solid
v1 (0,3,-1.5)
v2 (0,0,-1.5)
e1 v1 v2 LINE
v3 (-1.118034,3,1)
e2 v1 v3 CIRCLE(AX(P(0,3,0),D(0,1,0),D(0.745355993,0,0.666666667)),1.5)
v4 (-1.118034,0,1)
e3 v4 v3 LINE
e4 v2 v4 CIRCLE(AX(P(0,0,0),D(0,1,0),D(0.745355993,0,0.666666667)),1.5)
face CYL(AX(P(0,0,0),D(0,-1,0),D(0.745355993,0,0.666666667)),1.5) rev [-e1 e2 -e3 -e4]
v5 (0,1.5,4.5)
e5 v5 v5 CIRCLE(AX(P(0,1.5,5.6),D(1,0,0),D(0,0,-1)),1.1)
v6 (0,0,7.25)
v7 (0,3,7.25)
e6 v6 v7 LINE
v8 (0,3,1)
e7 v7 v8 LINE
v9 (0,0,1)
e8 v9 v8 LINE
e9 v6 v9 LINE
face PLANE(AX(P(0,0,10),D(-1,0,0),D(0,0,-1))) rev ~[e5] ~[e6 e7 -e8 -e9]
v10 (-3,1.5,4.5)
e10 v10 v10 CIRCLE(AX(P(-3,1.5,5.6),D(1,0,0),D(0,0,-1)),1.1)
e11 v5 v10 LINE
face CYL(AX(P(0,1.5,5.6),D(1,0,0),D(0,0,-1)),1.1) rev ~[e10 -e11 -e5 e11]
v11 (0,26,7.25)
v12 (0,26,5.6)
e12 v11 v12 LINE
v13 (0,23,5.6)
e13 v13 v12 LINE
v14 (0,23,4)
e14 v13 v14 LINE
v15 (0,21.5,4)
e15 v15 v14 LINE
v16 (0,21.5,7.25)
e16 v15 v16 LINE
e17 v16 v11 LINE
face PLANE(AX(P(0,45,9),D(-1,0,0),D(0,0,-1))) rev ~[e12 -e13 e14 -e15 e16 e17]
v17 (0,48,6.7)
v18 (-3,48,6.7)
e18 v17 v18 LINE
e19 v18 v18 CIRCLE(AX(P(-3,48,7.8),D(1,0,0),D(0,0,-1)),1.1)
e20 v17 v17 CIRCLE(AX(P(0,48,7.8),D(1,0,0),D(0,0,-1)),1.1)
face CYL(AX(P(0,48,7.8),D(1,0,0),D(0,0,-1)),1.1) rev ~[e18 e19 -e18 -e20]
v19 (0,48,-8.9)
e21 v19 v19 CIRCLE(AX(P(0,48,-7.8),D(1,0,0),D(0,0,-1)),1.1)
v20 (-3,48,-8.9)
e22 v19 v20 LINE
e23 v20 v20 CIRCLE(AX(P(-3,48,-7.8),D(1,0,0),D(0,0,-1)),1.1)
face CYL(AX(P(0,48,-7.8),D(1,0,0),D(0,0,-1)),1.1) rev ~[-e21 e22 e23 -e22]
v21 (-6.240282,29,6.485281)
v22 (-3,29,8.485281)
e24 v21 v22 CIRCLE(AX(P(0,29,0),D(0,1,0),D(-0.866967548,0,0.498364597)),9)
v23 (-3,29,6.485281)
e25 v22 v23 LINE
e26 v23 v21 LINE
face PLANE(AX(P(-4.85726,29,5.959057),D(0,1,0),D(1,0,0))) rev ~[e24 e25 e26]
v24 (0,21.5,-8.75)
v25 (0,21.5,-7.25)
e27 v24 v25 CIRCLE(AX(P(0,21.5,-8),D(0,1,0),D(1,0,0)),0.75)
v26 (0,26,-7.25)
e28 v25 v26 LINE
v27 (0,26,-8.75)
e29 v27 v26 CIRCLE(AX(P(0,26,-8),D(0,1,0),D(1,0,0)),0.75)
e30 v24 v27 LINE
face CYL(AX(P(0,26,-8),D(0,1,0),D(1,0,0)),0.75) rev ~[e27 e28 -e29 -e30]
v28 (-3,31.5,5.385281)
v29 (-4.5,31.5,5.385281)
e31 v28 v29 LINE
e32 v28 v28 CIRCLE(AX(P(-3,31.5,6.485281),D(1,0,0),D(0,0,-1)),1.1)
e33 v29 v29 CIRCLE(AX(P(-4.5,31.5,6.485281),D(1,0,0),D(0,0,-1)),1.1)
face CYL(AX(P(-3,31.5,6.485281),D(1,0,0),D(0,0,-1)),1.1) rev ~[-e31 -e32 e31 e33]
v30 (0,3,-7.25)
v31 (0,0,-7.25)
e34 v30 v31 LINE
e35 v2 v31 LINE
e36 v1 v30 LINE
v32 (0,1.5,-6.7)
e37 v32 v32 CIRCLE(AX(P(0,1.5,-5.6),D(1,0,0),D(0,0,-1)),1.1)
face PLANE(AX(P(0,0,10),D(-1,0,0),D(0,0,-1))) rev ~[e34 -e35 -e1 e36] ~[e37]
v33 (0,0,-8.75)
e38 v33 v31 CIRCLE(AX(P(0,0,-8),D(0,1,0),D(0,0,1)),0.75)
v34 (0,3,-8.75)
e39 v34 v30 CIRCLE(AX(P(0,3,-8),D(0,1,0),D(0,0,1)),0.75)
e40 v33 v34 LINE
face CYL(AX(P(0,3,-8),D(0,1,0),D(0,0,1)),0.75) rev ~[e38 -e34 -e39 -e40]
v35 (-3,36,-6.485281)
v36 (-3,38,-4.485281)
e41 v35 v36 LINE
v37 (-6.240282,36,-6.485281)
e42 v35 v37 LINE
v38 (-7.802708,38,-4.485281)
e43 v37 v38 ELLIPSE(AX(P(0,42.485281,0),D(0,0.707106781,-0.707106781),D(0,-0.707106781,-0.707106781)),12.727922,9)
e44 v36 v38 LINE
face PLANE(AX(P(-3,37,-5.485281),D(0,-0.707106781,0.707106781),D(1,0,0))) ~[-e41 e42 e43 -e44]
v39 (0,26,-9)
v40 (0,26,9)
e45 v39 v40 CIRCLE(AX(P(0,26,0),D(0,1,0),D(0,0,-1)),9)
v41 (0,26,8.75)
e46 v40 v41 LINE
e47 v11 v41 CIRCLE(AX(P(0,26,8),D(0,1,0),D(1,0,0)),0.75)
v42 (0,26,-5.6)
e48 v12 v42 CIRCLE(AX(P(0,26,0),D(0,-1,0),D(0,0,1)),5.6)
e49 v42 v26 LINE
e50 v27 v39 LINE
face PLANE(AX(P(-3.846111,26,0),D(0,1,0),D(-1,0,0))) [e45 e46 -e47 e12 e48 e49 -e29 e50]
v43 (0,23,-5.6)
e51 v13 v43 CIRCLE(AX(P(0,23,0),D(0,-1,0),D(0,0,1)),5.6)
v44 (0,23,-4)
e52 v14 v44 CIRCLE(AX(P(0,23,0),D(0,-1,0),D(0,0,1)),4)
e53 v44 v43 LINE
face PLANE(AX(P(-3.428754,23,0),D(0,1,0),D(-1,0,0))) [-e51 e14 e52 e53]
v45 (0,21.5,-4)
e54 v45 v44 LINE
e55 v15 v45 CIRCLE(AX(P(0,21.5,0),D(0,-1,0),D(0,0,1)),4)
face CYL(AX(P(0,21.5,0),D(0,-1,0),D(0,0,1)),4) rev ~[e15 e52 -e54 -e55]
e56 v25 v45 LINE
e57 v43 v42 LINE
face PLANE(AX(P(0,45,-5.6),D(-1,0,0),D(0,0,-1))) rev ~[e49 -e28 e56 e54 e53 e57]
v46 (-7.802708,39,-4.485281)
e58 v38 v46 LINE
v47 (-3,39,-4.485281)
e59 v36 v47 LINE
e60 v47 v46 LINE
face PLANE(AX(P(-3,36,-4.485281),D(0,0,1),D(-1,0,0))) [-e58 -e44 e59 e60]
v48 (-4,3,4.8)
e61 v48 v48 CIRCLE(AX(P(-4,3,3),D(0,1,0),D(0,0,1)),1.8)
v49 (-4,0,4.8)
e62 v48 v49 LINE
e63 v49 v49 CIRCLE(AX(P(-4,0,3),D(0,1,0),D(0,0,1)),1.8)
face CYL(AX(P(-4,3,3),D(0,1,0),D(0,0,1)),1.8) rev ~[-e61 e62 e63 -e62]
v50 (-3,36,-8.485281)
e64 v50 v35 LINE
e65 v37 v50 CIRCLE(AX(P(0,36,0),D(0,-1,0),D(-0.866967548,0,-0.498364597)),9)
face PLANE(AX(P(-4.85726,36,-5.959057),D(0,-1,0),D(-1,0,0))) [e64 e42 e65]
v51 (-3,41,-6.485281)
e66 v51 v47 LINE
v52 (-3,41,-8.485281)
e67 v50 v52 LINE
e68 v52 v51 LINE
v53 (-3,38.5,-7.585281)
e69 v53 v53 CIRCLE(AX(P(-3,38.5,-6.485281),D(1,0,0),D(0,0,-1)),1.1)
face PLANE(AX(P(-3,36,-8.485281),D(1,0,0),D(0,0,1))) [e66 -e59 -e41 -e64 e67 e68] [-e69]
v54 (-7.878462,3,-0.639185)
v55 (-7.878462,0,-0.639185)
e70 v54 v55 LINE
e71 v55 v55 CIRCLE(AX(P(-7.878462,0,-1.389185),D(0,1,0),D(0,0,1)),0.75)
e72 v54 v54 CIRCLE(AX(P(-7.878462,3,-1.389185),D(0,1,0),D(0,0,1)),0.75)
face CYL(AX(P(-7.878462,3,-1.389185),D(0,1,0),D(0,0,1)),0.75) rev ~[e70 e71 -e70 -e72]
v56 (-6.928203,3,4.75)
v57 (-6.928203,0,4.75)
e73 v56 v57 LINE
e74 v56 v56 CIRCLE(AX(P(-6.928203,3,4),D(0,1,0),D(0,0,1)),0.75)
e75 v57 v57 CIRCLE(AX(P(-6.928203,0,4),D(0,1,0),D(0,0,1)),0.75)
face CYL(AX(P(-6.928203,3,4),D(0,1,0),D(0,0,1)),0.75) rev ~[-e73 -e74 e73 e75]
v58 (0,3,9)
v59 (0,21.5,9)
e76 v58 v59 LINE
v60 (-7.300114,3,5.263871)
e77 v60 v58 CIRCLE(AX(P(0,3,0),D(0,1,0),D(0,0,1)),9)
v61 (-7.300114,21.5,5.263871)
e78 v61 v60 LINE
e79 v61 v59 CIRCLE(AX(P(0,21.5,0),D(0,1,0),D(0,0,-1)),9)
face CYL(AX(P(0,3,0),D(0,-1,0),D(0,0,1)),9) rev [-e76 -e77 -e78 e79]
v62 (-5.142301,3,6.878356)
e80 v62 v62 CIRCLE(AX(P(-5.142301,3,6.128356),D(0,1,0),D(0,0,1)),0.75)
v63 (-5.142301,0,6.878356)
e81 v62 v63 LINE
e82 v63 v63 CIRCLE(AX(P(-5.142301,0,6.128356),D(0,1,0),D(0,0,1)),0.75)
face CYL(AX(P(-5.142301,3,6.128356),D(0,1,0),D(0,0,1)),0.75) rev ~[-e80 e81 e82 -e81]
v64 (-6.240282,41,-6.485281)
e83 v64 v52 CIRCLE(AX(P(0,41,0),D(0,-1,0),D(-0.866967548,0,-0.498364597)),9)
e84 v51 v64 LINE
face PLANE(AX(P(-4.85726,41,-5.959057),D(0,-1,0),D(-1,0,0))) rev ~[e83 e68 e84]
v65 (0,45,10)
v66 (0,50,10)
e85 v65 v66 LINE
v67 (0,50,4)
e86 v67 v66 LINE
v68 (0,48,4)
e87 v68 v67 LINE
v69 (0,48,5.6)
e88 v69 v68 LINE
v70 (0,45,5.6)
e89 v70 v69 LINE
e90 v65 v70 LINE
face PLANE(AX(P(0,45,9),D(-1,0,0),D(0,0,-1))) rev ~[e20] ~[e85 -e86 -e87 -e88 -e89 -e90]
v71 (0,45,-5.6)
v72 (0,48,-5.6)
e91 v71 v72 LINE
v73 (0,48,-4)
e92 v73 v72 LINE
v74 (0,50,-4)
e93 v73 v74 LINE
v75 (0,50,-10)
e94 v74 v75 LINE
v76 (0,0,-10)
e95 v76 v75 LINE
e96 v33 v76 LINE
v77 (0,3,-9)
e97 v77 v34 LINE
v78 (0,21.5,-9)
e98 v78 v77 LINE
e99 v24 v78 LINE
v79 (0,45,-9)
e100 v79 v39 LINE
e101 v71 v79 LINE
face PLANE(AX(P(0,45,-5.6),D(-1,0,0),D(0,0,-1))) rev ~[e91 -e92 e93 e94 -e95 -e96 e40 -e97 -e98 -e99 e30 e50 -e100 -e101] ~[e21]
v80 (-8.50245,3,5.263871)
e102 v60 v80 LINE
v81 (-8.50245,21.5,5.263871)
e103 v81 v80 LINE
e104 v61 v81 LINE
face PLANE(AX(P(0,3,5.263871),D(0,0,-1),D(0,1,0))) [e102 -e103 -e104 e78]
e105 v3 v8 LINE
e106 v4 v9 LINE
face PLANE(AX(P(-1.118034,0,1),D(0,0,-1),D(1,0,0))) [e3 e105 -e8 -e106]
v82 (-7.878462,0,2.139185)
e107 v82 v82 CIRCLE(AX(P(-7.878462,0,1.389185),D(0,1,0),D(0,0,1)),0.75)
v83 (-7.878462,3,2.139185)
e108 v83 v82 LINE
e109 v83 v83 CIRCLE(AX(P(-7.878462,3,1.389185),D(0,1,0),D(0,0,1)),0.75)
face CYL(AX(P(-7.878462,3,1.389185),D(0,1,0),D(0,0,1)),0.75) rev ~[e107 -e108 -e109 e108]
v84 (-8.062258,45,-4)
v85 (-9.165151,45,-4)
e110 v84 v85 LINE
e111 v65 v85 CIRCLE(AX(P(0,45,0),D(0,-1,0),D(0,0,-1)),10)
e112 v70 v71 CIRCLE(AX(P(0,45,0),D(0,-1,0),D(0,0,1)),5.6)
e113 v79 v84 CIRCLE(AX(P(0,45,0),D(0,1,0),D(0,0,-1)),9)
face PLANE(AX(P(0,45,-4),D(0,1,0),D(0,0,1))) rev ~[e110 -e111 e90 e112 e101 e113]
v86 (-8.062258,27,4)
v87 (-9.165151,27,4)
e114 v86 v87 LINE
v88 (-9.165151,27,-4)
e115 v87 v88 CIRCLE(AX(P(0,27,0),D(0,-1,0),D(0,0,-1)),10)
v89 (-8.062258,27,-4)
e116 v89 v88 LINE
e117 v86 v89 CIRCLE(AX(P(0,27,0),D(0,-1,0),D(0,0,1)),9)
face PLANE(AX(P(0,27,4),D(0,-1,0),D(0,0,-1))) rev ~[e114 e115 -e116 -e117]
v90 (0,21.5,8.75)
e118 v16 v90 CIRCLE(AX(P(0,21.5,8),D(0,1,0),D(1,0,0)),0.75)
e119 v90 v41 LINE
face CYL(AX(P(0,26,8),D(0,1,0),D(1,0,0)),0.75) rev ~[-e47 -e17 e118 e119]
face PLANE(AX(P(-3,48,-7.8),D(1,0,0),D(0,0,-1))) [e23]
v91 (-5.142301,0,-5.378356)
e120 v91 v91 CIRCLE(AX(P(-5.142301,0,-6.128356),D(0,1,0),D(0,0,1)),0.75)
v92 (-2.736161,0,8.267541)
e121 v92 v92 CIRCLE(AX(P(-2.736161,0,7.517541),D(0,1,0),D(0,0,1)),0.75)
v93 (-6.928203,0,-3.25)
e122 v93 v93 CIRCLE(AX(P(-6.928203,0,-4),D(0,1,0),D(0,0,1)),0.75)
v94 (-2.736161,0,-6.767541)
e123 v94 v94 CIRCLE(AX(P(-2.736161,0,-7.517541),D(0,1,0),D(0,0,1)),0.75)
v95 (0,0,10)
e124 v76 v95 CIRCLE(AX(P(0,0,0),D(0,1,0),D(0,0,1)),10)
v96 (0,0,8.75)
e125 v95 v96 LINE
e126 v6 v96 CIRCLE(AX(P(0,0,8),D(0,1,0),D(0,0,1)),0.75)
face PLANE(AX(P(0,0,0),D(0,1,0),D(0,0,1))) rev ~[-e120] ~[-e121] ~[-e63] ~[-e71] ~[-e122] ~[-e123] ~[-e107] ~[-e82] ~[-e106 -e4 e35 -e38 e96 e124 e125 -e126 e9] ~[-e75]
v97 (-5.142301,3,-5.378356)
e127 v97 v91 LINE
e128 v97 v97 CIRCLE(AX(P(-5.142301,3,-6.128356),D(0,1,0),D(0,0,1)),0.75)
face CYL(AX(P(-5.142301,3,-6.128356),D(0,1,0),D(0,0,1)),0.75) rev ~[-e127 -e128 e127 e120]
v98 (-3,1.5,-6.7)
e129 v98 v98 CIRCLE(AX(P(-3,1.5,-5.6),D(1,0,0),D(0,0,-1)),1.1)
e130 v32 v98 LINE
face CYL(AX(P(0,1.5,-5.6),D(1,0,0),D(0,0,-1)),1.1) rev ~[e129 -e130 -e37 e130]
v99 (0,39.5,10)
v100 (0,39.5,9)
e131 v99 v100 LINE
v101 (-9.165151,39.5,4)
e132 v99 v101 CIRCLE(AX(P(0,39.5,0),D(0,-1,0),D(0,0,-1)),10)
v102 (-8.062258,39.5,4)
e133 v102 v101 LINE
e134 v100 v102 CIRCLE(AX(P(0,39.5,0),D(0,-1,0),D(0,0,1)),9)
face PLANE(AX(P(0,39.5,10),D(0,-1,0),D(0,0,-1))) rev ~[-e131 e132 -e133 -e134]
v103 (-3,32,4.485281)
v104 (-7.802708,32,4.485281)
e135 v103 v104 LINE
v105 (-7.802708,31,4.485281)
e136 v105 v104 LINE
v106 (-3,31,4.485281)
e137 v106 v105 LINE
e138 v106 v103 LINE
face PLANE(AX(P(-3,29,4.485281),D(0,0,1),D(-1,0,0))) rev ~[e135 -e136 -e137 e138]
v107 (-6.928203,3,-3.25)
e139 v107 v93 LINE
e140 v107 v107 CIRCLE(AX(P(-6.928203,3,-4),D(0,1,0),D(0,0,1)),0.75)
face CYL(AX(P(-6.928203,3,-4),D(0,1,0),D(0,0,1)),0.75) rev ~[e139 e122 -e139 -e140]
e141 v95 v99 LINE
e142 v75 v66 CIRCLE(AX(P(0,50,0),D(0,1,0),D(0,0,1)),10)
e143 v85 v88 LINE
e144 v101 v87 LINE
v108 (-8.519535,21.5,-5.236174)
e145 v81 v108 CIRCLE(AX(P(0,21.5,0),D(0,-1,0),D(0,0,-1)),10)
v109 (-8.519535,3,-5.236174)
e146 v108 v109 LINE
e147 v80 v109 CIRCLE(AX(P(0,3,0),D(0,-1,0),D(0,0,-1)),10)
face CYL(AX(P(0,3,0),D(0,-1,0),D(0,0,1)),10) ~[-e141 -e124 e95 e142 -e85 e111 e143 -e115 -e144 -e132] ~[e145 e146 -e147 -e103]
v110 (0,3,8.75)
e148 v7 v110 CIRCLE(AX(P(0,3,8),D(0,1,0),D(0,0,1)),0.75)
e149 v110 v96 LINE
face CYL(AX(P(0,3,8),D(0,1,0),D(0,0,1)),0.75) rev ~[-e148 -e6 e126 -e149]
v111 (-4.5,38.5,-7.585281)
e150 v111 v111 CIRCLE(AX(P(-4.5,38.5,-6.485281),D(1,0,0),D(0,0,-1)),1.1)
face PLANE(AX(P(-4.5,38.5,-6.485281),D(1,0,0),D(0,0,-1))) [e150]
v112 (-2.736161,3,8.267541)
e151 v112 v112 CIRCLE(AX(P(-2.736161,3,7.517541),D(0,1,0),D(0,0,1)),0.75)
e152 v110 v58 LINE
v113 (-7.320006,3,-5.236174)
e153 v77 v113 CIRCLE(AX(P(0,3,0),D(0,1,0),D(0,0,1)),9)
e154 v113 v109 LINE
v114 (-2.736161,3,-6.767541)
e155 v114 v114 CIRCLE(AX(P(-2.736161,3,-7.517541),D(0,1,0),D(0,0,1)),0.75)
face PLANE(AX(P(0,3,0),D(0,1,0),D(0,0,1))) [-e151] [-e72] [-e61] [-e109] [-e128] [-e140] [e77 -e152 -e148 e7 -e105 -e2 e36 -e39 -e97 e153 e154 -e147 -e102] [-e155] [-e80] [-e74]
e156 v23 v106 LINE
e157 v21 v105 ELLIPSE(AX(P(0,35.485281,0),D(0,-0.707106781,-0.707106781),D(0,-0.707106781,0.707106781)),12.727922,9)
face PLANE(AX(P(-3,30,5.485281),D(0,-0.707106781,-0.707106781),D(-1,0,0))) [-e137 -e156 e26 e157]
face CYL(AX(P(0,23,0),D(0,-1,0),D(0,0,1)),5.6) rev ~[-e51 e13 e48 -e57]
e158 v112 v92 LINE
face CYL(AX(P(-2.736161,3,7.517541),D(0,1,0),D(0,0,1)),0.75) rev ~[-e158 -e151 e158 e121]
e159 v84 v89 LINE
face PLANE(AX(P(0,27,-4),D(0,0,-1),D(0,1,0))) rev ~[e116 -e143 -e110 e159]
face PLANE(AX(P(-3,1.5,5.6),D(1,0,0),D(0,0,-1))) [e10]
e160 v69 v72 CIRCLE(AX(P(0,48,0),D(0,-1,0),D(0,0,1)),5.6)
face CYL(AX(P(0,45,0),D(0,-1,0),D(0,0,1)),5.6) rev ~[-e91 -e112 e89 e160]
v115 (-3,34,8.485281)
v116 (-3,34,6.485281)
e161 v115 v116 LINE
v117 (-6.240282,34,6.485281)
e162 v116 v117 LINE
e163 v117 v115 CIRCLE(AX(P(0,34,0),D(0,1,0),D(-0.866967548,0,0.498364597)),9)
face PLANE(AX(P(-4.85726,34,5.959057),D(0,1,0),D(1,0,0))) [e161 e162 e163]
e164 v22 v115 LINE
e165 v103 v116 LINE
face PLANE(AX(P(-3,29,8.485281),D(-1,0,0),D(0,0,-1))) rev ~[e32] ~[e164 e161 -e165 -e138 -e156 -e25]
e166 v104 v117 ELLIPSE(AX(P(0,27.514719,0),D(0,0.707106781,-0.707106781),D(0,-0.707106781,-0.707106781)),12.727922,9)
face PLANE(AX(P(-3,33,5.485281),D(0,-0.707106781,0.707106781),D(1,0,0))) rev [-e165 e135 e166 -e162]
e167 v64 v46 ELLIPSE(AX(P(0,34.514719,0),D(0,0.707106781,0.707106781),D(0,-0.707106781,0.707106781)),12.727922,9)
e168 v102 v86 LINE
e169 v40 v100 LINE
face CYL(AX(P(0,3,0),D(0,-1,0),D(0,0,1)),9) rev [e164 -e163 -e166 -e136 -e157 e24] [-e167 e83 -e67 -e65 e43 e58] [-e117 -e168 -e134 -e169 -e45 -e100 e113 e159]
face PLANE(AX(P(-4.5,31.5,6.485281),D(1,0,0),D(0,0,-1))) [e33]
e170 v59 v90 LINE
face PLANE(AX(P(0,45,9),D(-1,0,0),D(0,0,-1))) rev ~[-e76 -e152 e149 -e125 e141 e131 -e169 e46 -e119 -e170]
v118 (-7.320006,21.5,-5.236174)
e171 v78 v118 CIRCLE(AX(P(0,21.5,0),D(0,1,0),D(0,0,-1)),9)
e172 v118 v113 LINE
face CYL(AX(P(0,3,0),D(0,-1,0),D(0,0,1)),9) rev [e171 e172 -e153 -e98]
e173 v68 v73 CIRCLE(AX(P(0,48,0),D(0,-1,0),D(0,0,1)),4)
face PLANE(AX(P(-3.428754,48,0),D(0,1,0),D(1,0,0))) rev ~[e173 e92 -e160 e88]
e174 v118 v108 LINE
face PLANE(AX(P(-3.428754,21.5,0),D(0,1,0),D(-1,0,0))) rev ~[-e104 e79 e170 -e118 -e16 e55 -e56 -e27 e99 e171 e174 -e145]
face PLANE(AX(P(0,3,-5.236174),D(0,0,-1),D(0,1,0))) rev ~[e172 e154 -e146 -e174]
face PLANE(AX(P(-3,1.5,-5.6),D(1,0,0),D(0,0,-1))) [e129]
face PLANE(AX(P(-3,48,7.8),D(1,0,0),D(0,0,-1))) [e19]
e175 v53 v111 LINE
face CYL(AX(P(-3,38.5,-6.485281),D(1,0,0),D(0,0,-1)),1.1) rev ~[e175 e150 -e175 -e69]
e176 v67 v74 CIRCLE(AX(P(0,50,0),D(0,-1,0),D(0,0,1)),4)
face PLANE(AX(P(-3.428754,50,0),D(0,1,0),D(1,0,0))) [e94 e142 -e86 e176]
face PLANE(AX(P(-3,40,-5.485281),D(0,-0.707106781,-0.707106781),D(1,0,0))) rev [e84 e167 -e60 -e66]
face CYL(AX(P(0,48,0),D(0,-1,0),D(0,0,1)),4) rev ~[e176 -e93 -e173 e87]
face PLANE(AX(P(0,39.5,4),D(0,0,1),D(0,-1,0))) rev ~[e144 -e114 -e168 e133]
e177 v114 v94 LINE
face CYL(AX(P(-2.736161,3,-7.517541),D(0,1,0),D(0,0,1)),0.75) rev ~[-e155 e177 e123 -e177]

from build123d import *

# Parameters (mm, degrees)
SKETCH_1_R               = 10
EXTRUDE_1_DEPTH          = 3
CUT_EXTRUDE_1_REACH      = 16.457
SKETCH_2_R               = 0.75
SKETCH_3_R               = 10
SKETCH_3_R_2             = 9
EXTRUDE_2_DEPTH          = 47
CUT_EXTRUDE_START        = -50
CUT_EXTRUDE_2_DEPTH      = 50
EXTRUDE_3_DEPTH          = 5
SKETCH_6_R               = 1.1
CUT_EXTRUDE_3_DEPTH      = 1.5
EXTRUDE_START            = -5
EXTRUDE_4_DEPTH          = 5
SKETCH_8_R               = 1.1
CUT_EXTRUDE_4_DEPTH      = 1.5
EXTRUDE_START_2          = -23
EXTRUDE_5_DEPTH          = 3
EXTRUDE_START_3          = 1.5
EXTRUDE_6_DEPTH          = 1.5
EXTRUDE_START_4          = -2
EXTRUDE_7_DEPTH          = 2
EXTRUDE_START_5          = 3
EXTRUDE_8_DEPTH          = 3
CUT_EXTRUDE_5_REACH      = 31.597
SKETCH_13_R              = 0.75
CUT_EXTRUDE_6_REACH      = 53.962
CUT_EXTRUDE_6_END_RADIUS = 10
SKETCH_14_W              = 10.500045379
SKETCH_14_H              = 18.5
CUT_EXTRUDE_7_REACH      = 53.962
CUT_EXTRUDE_7_END_RADIUS = 10
SKETCH_16_R              = 1.1
CUT_EXTRUDE_8_DEPTH      = 3
CHAMFER_1_SIZE           = 2
CUT_EXTRUDE1_REACH       = 51.082
SKETCH1_R                = 1.8


with BuildPart() as part:
    # 草图1 → 凸台-拉伸1 (new body)
    with BuildSketch(Plane(origin=(0, 0, 0), x_dir=(1, 0, 0), z_dir=(0, 1, 0))):
        with Locations(Location((0, 0, 0), (0, 0, 270))):
            Circle(SKETCH_1_R)
        with BuildLine():
            Line((-1.118033989, -1), (1.118033989, -1))
            ThreePointArc((1.118033989, -1), (0, 1.5), (-1.118033989, -1))
        make_face(mode=Mode.SUBTRACT)
    extrude(amount=EXTRUDE_1_DEPTH)

    # 草图2 → 切除-拉伸1 (cut, up to next)
    with BuildSketch(Plane(origin=(0, 3, 0), x_dir=(1, 0, 0), z_dir=(0, 1, 0)), mode=Mode.PRIVATE) as cut_extrude_1_sk1:
        with Locations(Location((0, 8, 0), (0, 0, 270))):
            Circle(SKETCH_2_R)
    cut_extrude_1_tool1 = extrude(cut_extrude_1_sk1.sketch, amount=-CUT_EXTRUDE_1_REACH, mode=Mode.PRIVATE) & part.part
    # 草图2 → 切除-拉伸1 (cut, up to next)
    with BuildSketch(Plane(origin=(0, 3, 0), x_dir=(1, 0, 0), z_dir=(0, 1, 0)), mode=Mode.PRIVATE) as cut_extrude_1_sk2:
        with Locations(Location((2.736161147, 7.517540966, 0), (0, 0, 270))):
            Circle(SKETCH_2_R)
    cut_extrude_1_tool2 = extrude(cut_extrude_1_sk2.sketch, amount=-CUT_EXTRUDE_1_REACH, mode=Mode.PRIVATE) & part.part
    # 草图2 → 切除-拉伸1 (cut, up to next)
    with BuildSketch(Plane(origin=(0, 3, 0), x_dir=(1, 0, 0), z_dir=(0, 1, 0)), mode=Mode.PRIVATE) as cut_extrude_1_sk3:
        with Locations(Location((5.142300877, 6.128355545, 0), (0, 0, 270))):
            Circle(SKETCH_2_R)
    cut_extrude_1_tool3 = extrude(cut_extrude_1_sk3.sketch, amount=-CUT_EXTRUDE_1_REACH, mode=Mode.PRIVATE) & part.part
    # 草图2 → 切除-拉伸1 (cut, up to next)
    with BuildSketch(Plane(origin=(0, 3, 0), x_dir=(1, 0, 0), z_dir=(0, 1, 0)), mode=Mode.PRIVATE) as cut_extrude_1_sk4:
        with Locations(Location((6.92820323, 4, 0), (0, 0, 270))):
            Circle(SKETCH_2_R)
    cut_extrude_1_tool4 = extrude(cut_extrude_1_sk4.sketch, amount=-CUT_EXTRUDE_1_REACH, mode=Mode.PRIVATE) & part.part
    # 草图2 → 切除-拉伸1 (cut, up to next)
    with BuildSketch(Plane(origin=(0, 3, 0), x_dir=(1, 0, 0), z_dir=(0, 1, 0)), mode=Mode.PRIVATE) as cut_extrude_1_sk5:
        with Locations(Location((7.878462024, 1.389185421, 0), (0, 0, 270))):
            Circle(SKETCH_2_R)
    cut_extrude_1_tool5 = extrude(cut_extrude_1_sk5.sketch, amount=-CUT_EXTRUDE_1_REACH, mode=Mode.PRIVATE) & part.part
    # 草图2 → 切除-拉伸1 (cut, up to next)
    with BuildSketch(Plane(origin=(0, 3, 0), x_dir=(1, 0, 0), z_dir=(0, 1, 0)), mode=Mode.PRIVATE) as cut_extrude_1_sk6:
        with Locations(Location((7.878462024, -1.389185421, 0), (0, 0, 270))):
            Circle(SKETCH_2_R)
    cut_extrude_1_tool6 = extrude(cut_extrude_1_sk6.sketch, amount=-CUT_EXTRUDE_1_REACH, mode=Mode.PRIVATE) & part.part
    # 草图2 → 切除-拉伸1 (cut, up to next)
    with BuildSketch(Plane(origin=(0, 3, 0), x_dir=(1, 0, 0), z_dir=(0, 1, 0)), mode=Mode.PRIVATE) as cut_extrude_1_sk7:
        with Locations(Location((6.92820323, -4, 0), (0, 0, 270))):
            Circle(SKETCH_2_R)
    cut_extrude_1_tool7 = extrude(cut_extrude_1_sk7.sketch, amount=-CUT_EXTRUDE_1_REACH, mode=Mode.PRIVATE) & part.part
    # 草图2 → 切除-拉伸1 (cut, up to next)
    with BuildSketch(Plane(origin=(0, 3, 0), x_dir=(1, 0, 0), z_dir=(0, 1, 0)), mode=Mode.PRIVATE) as cut_extrude_1_sk8:
        with Locations(Location((5.142300877, -6.128355545, 0), (0, 0, 270))):
            Circle(SKETCH_2_R)
    cut_extrude_1_tool8 = extrude(cut_extrude_1_sk8.sketch, amount=-CUT_EXTRUDE_1_REACH, mode=Mode.PRIVATE) & part.part
    # 草图2 → 切除-拉伸1 (cut, up to next)
    with BuildSketch(Plane(origin=(0, 3, 0), x_dir=(1, 0, 0), z_dir=(0, 1, 0)), mode=Mode.PRIVATE) as cut_extrude_1_sk9:
        with Locations(Location((2.736161147, -7.517540966, 0), (0, 0, 270))):
            Circle(SKETCH_2_R)
    cut_extrude_1_tool9 = extrude(cut_extrude_1_sk9.sketch, amount=-CUT_EXTRUDE_1_REACH, mode=Mode.PRIVATE) & part.part
    # 草图2 → 切除-拉伸1 (cut, up to next)
    with BuildSketch(Plane(origin=(0, 3, 0), x_dir=(1, 0, 0), z_dir=(0, 1, 0)), mode=Mode.PRIVATE) as cut_extrude_1_sk10:
        with Locations(Location((0, -8, 0), (0, 0, 270))):
            Circle(SKETCH_2_R)
    cut_extrude_1_tool10 = extrude(cut_extrude_1_sk10.sketch, amount=-CUT_EXTRUDE_1_REACH, mode=Mode.PRIVATE) & part.part
    # 草图2 → 切除-拉伸1 (cut, up to next)
    with BuildSketch(Plane(origin=(0, 3, 0), x_dir=(1, 0, 0), z_dir=(0, 1, 0)), mode=Mode.PRIVATE) as cut_extrude_1_sk11:
        with Locations(Location((-2.736161147, -7.517540966, 0), (0, 0, 270))):
            Circle(SKETCH_2_R)
    cut_extrude_1_tool11 = extrude(cut_extrude_1_sk11.sketch, amount=-CUT_EXTRUDE_1_REACH, mode=Mode.PRIVATE) & part.part
    # 草图2 → 切除-拉伸1 (cut, up to next)
    with BuildSketch(Plane(origin=(0, 3, 0), x_dir=(1, 0, 0), z_dir=(0, 1, 0)), mode=Mode.PRIVATE) as cut_extrude_1_sk12:
        with Locations(Location((-5.142300877, -6.128355545, 0), (0, 0, 270))):
            Circle(SKETCH_2_R)
    cut_extrude_1_tool12 = extrude(cut_extrude_1_sk12.sketch, amount=-CUT_EXTRUDE_1_REACH, mode=Mode.PRIVATE) & part.part
    # 草图2 → 切除-拉伸1 (cut, up to next)
    with BuildSketch(Plane(origin=(0, 3, 0), x_dir=(1, 0, 0), z_dir=(0, 1, 0)), mode=Mode.PRIVATE) as cut_extrude_1_sk13:
        with Locations(Location((-6.92820323, -4, 0), (0, 0, 270))):
            Circle(SKETCH_2_R)
    cut_extrude_1_tool13 = extrude(cut_extrude_1_sk13.sketch, amount=-CUT_EXTRUDE_1_REACH, mode=Mode.PRIVATE) & part.part
    # 草图2 → 切除-拉伸1 (cut, up to next)
    with BuildSketch(Plane(origin=(0, 3, 0), x_dir=(1, 0, 0), z_dir=(0, 1, 0)), mode=Mode.PRIVATE) as cut_extrude_1_sk14:
        with Locations(Location((-7.878462024, -1.389185421, 0), (0, 0, 270))):
            Circle(SKETCH_2_R)
    cut_extrude_1_tool14 = extrude(cut_extrude_1_sk14.sketch, amount=-CUT_EXTRUDE_1_REACH, mode=Mode.PRIVATE) & part.part
    # 草图2 → 切除-拉伸1 (cut, up to next)
    with BuildSketch(Plane(origin=(0, 3, 0), x_dir=(1, 0, 0), z_dir=(0, 1, 0)), mode=Mode.PRIVATE) as cut_extrude_1_sk15:
        with Locations(Location((-7.878462024, 1.389185421, 0), (0, 0, 270))):
            Circle(SKETCH_2_R)
    cut_extrude_1_tool15 = extrude(cut_extrude_1_sk15.sketch, amount=-CUT_EXTRUDE_1_REACH, mode=Mode.PRIVATE) & part.part
    # 草图2 → 切除-拉伸1 (cut, up to next)
    with BuildSketch(Plane(origin=(0, 3, 0), x_dir=(1, 0, 0), z_dir=(0, 1, 0)), mode=Mode.PRIVATE) as cut_extrude_1_sk16:
        with Locations(Location((-6.92820323, 4, 0), (0, 0, 270))):
            Circle(SKETCH_2_R)
    cut_extrude_1_tool16 = extrude(cut_extrude_1_sk16.sketch, amount=-CUT_EXTRUDE_1_REACH, mode=Mode.PRIVATE) & part.part
    # 草图2 → 切除-拉伸1 (cut, up to next)
    with BuildSketch(Plane(origin=(0, 3, 0), x_dir=(1, 0, 0), z_dir=(0, 1, 0)), mode=Mode.PRIVATE) as cut_extrude_1_sk17:
        with Locations(Location((-5.142300877, 6.128355545, 0), (0, 0, 270))):
            Circle(SKETCH_2_R)
    cut_extrude_1_tool17 = extrude(cut_extrude_1_sk17.sketch, amount=-CUT_EXTRUDE_1_REACH, mode=Mode.PRIVATE) & part.part
    # 草图2 → 切除-拉伸1 (cut, up to next)
    with BuildSketch(Plane(origin=(0, 3, 0), x_dir=(1, 0, 0), z_dir=(0, 1, 0)), mode=Mode.PRIVATE) as cut_extrude_1_sk18:
        with Locations(Location((-2.736161147, 7.517540966, 0), (0, 0, 270))):
            Circle(SKETCH_2_R)
    cut_extrude_1_tool18 = extrude(cut_extrude_1_sk18.sketch, amount=-CUT_EXTRUDE_1_REACH, mode=Mode.PRIVATE) & part.part
    add(cut_extrude_1_tool1.solids().sort_by_distance((0, 3, -8))[0], mode=Mode.SUBTRACT)
    add(cut_extrude_1_tool2.solids().sort_by_distance((2.736161, 3, -7.517541))[0], mode=Mode.SUBTRACT)
    add(cut_extrude_1_tool3.solids().sort_by_distance((5.142301, 3, -6.128356))[0], mode=Mode.SUBTRACT)
    add(cut_extrude_1_tool4.solids().sort_by_distance((6.928203, 3, -4))[0], mode=Mode.SUBTRACT)
    add(cut_extrude_1_tool5.solids().sort_by_distance((7.878462, 3, -1.389185))[0], mode=Mode.SUBTRACT)
    add(cut_extrude_1_tool6.solids().sort_by_distance((7.878462, 3, 1.389185))[0], mode=Mode.SUBTRACT)
    add(cut_extrude_1_tool7.solids().sort_by_distance((6.928203, 3, 4))[0], mode=Mode.SUBTRACT)
    add(cut_extrude_1_tool8.solids().sort_by_distance((5.142301, 3, 6.128356))[0], mode=Mode.SUBTRACT)
    add(cut_extrude_1_tool9.solids().sort_by_distance((2.736161, 3, 7.517541))[0], mode=Mode.SUBTRACT)
    add(cut_extrude_1_tool10.solids().sort_by_distance((0, 3, 8))[0], mode=Mode.SUBTRACT)
    add(cut_extrude_1_tool11.solids().sort_by_distance((-2.736161, 3, 7.517541))[0], mode=Mode.SUBTRACT)
    add(cut_extrude_1_tool12.solids().sort_by_distance((-5.142301, 3, 6.128356))[0], mode=Mode.SUBTRACT)
    add(cut_extrude_1_tool13.solids().sort_by_distance((-6.928203, 3, 4))[0], mode=Mode.SUBTRACT)
    add(cut_extrude_1_tool14.solids().sort_by_distance((-7.878462, 3, 1.389185))[0], mode=Mode.SUBTRACT)
    add(cut_extrude_1_tool15.solids().sort_by_distance((-7.878462, 3, -1.389185))[0], mode=Mode.SUBTRACT)
    add(cut_extrude_1_tool16.solids().sort_by_distance((-6.928203, 3, -4))[0], mode=Mode.SUBTRACT)
    add(cut_extrude_1_tool17.solids().sort_by_distance((-5.142301, 3, -6.128356))[0], mode=Mode.SUBTRACT)
    add(cut_extrude_1_tool18.solids().sort_by_distance((-2.736161, 3, -7.517541))[0], mode=Mode.SUBTRACT)

    # 草图3 → 凸台-拉伸2 (add)
    with BuildSketch(Plane(origin=(0, 3, 0), x_dir=(1, 0, 0), z_dir=(0, 1, 0))):
        with Locations(Location((0, 0, 0), (0, 0, 270))):
            Circle(SKETCH_3_R)
        with Locations(Location((0, 0, 0), (0, 0, 270))):
            Circle(SKETCH_3_R_2, mode=Mode.SUBTRACT)
    extrude(amount=EXTRUDE_2_DEPTH)

    # 草图4 → 切除-拉伸2 (cut)
    with BuildSketch(Plane(origin=(0, 50, 0), x_dir=(1, 0, 0), z_dir=(0, 1, 0)).offset(CUT_EXTRUDE_START)):
        with BuildLine():
            Line((0, -10), (0, 10))
            ThreePointArc((0, 10), (10, 0), (0, -10))
        make_face()
    extrude(amount=CUT_EXTRUDE_2_DEPTH, mode=Mode.SUBTRACT)

    # 草图5 → 凸台-拉伸3 (add)
    with BuildSketch(Plane(origin=(0, 29, 0), x_dir=(1, 0, 0), z_dir=(0, 1, 0))):
        with BuildLine():
            Line((-3, -8.485281374), (-3, -4.485281374))
            Line((-3, -4.485281374), (-7.802707927, -4.485281374))
            ThreePointArc((-7.802707927, -4.485281374), (-5.759741716, -6.9155893), (-3, -8.485281374))
        make_face()
    extrude(amount=EXTRUDE_3_DEPTH)

    # 草图6 → 切除-拉伸3 (cut)
    with BuildSketch(Plane(origin=(-3, 0, 0), x_dir=(0, 0, -1), z_dir=(1, 0, 0))):
        with Locations((-6.485281374, 31.5)):
            Circle(SKETCH_6_R)
    extrude(amount=-CUT_EXTRUDE_3_DEPTH, mode=Mode.SUBTRACT)

    # 草图7 → 凸台-拉伸4 (add)
    with BuildSketch(Plane(origin=(0, 41, 0), x_dir=(1, 0, 0), z_dir=(0, 1, 0)).offset(EXTRUDE_START)):
        with BuildLine():
            Line((-3, 8.485281374), (-3, 4.485281374))
            Line((-3, 4.485281374), (-7.802707927, 4.485281374))
            ThreePointArc((-7.802707927, 4.485281374), (-5.759741716, 6.9155893), (-3, 8.485281374))
        make_face()
    extrude(amount=EXTRUDE_4_DEPTH)

    # 草图8 → 切除-拉伸4 (cut)
    with BuildSketch(Plane(origin=(-3, 0, 0), x_dir=(0, 0, -1), z_dir=(1, 0, 0))):
        with Locations((6.485281374, 38.5)):
            Circle(SKETCH_8_R)
    extrude(amount=-CUT_EXTRUDE_4_DEPTH, mode=Mode.SUBTRACT)

    # 草图9 → 凸台-拉伸5 (add)
    with BuildSketch(Plane.XZ.offset(EXTRUDE_START_2)):
        with BuildLine():
            Line((0, 9), (0, 5.6))
            ThreePointArc((0, 5.6), (-5.6, 0), (0, -5.6))
            Line((0, -5.6), (0, -9))
            ThreePointArc((0, -9), (-9, 0), (0, 9))
        make_face()
    extrude(amount=-EXTRUDE_5_DEPTH)

    # 草图10 → 凸台-拉伸6 (add)
    with BuildSketch(Plane.XZ.offset(-23).offset(EXTRUDE_START_3)):
        with BuildLine():
            Line((0, 9), (0, 4))
            ThreePointArc((0, 4), (-4, 0), (0, -4))
            Line((0, -4), (0, -9))
            ThreePointArc((0, -9), (-9, 0), (0, 9))
        make_face()
    extrude(amount=-EXTRUDE_6_DEPTH)

    # 草图11 → 凸台-拉伸7 (add)
    with BuildSketch(Plane(origin=(0, 50, 0), x_dir=(1, 0, 0), z_dir=(0, 1, 0)).offset(EXTRUDE_START_4)):
        with BuildLine():
            Line((0, -9), (0, -4))
            ThreePointArc((0, -4), (-4, 0), (0, 4))
            Line((0, 4), (0, 9))
            ThreePointArc((0, 9), (-9, 0), (0, -9))
        make_face()
    extrude(amount=EXTRUDE_7_DEPTH)

    # 草图12 → 凸台-拉伸8 (add)
    with BuildSketch(Plane.XZ.offset(-48).offset(EXTRUDE_START_5)):
        with BuildLine():
            Line((0, 9), (0, 5.6))
            ThreePointArc((0, 5.6), (-5.6, 0), (0, -5.6))
            Line((0, -5.6), (0, -9))
            ThreePointArc((0, -9), (-9, 0), (0, 9))
        make_face()
    extrude(amount=-EXTRUDE_8_DEPTH)

    # 草图13 → 切除-拉伸5 (cut, up to next)
    with BuildSketch(Plane(origin=(0, 26, 0), x_dir=(1, 0, 0), z_dir=(0, 1, 0)), mode=Mode.PRIVATE) as cut_extrude_5_sk1:
        with Locations((0, 8)):
            Circle(SKETCH_13_R)
    cut_extrude_5_tool1 = extrude(cut_extrude_5_sk1.sketch, amount=-CUT_EXTRUDE_5_REACH, mode=Mode.PRIVATE) & part.part
    # 草图13 → 切除-拉伸5 (cut, up to next)
    with BuildSketch(Plane(origin=(0, 26, 0), x_dir=(1, 0, 0), z_dir=(0, 1, 0)), mode=Mode.PRIVATE) as cut_extrude_5_sk2:
        with Locations((0, -8)):
            Circle(SKETCH_13_R)
    cut_extrude_5_tool2 = extrude(cut_extrude_5_sk2.sketch, amount=-CUT_EXTRUDE_5_REACH, mode=Mode.PRIVATE) & part.part
    add(cut_extrude_5_tool1.solids().sort_by_distance((0, 26, -8))[0], mode=Mode.SUBTRACT)
    add(cut_extrude_5_tool2.solids().sort_by_distance((0, 26, 8))[0], mode=Mode.SUBTRACT)

    # 切除-拉伸6: up to this cylinder (the profile starts inside it)
    cut_extrude_6_end = Plane(origin=(0, 12.25, 0), z_dir=(0, -1, 0)) * Cylinder(CUT_EXTRUDE_6_END_RADIUS, 128.924, mode=Mode.PRIVATE)
    # 草图14 → 切除-拉伸6 (cut, up to the surface)
    with BuildSketch(Plane(origin=(0, 0, 0), x_dir=(0, 0, -1), z_dir=(1, 0, 0)), mode=Mode.PRIVATE) as cut_extrude_6_sk1:
        with Locations((-0.013848658, 12.25)):
            Rectangle(SKETCH_14_W, SKETCH_14_H)
    cut_extrude_6_tool1 = extrude(cut_extrude_6_sk1.sketch, amount=-CUT_EXTRUDE_6_REACH, mode=Mode.PRIVATE) & cut_extrude_6_end
    add(cut_extrude_6_tool1.solids().sort_by_distance((0, 12.25, 0.013849))[0], mode=Mode.SUBTRACT)

    # 切除-拉伸7: up to this cylinder (the profile starts inside it)
    cut_extrude_7_end = Plane(origin=(0, 37.165254, 0), z_dir=(0, -1, 0)) * Cylinder(CUT_EXTRUDE_7_END_RADIUS, 128.924, mode=Mode.PRIVATE)
    # 草图15 → 切除-拉伸7 (cut, up to the surface)
    with BuildSketch(Plane(origin=(0, 0, 0), x_dir=(0, 0, -1), z_dir=(1, 0, 0)), mode=Mode.PRIVATE) as cut_extrude_7_sk1:
        Polygon((-3.637254074, 45), (-10, 45), (-10, 39.5), (-4, 39.5), (-4, 27), (4, 27), (4, 45), align=None)
    cut_extrude_7_tool1 = extrude(cut_extrude_7_sk1.sketch, amount=-CUT_EXTRUDE_7_REACH, mode=Mode.PRIVATE) & cut_extrude_7_end
    add(cut_extrude_7_tool1.solids().sort_by_distance((0, 37.165254, 1.305085))[0], mode=Mode.SUBTRACT)

    # 草图16 → 切除-拉伸8 (cut)
    with BuildSketch(Plane(origin=(0, 0, 0), x_dir=(0, 0, -1), z_dir=(1, 0, 0))):
        with Locations((-7.8, 48)):
            Circle(SKETCH_16_R)
        with Locations((7.8, 48)):
            Circle(SKETCH_16_R)
        with Locations((-5.6, 1.5)):
            Circle(SKETCH_16_R)
        with Locations((5.6, 1.5)):
            Circle(SKETCH_16_R)
    extrude(amount=-CUT_EXTRUDE_8_DEPTH, mode=Mode.SUBTRACT)

    # 倒角1
    chamfer_1_edges = [part.edges().sort_by_distance(p)[0] for p in [
        (-5.401353963, 29, 4.485281374),
        (-5.401353963, 34, 4.485281374),
        (-5.401353963, 36, -4.485281374),
        (-5.401353963, 41, -4.485281374),
    ]]
    chamfer(chamfer_1_edges, length=CHAMFER_1_SIZE)

    # Sketch1 → Cut-Extrude1 (cut, up to next)
    with BuildSketch(Plane(origin=(0, 3, 0), x_dir=(1, 0, 0), z_dir=(0, 1, 0)), mode=Mode.PRIVATE) as cut_extrude1_sk1:
        with Locations(Location((-4, -3, 0), (0, 0, 270))):
            Circle(SKETCH1_R)
    cut_extrude1_tool1 = extrude(cut_extrude1_sk1.sketch, amount=-CUT_EXTRUDE1_REACH, mode=Mode.PRIVATE) & part.part
    add(cut_extrude1_tool1.solids().sort_by_distance((-4, 3, 3))[0], mode=Mode.SUBTRACT)


solid = part.part
